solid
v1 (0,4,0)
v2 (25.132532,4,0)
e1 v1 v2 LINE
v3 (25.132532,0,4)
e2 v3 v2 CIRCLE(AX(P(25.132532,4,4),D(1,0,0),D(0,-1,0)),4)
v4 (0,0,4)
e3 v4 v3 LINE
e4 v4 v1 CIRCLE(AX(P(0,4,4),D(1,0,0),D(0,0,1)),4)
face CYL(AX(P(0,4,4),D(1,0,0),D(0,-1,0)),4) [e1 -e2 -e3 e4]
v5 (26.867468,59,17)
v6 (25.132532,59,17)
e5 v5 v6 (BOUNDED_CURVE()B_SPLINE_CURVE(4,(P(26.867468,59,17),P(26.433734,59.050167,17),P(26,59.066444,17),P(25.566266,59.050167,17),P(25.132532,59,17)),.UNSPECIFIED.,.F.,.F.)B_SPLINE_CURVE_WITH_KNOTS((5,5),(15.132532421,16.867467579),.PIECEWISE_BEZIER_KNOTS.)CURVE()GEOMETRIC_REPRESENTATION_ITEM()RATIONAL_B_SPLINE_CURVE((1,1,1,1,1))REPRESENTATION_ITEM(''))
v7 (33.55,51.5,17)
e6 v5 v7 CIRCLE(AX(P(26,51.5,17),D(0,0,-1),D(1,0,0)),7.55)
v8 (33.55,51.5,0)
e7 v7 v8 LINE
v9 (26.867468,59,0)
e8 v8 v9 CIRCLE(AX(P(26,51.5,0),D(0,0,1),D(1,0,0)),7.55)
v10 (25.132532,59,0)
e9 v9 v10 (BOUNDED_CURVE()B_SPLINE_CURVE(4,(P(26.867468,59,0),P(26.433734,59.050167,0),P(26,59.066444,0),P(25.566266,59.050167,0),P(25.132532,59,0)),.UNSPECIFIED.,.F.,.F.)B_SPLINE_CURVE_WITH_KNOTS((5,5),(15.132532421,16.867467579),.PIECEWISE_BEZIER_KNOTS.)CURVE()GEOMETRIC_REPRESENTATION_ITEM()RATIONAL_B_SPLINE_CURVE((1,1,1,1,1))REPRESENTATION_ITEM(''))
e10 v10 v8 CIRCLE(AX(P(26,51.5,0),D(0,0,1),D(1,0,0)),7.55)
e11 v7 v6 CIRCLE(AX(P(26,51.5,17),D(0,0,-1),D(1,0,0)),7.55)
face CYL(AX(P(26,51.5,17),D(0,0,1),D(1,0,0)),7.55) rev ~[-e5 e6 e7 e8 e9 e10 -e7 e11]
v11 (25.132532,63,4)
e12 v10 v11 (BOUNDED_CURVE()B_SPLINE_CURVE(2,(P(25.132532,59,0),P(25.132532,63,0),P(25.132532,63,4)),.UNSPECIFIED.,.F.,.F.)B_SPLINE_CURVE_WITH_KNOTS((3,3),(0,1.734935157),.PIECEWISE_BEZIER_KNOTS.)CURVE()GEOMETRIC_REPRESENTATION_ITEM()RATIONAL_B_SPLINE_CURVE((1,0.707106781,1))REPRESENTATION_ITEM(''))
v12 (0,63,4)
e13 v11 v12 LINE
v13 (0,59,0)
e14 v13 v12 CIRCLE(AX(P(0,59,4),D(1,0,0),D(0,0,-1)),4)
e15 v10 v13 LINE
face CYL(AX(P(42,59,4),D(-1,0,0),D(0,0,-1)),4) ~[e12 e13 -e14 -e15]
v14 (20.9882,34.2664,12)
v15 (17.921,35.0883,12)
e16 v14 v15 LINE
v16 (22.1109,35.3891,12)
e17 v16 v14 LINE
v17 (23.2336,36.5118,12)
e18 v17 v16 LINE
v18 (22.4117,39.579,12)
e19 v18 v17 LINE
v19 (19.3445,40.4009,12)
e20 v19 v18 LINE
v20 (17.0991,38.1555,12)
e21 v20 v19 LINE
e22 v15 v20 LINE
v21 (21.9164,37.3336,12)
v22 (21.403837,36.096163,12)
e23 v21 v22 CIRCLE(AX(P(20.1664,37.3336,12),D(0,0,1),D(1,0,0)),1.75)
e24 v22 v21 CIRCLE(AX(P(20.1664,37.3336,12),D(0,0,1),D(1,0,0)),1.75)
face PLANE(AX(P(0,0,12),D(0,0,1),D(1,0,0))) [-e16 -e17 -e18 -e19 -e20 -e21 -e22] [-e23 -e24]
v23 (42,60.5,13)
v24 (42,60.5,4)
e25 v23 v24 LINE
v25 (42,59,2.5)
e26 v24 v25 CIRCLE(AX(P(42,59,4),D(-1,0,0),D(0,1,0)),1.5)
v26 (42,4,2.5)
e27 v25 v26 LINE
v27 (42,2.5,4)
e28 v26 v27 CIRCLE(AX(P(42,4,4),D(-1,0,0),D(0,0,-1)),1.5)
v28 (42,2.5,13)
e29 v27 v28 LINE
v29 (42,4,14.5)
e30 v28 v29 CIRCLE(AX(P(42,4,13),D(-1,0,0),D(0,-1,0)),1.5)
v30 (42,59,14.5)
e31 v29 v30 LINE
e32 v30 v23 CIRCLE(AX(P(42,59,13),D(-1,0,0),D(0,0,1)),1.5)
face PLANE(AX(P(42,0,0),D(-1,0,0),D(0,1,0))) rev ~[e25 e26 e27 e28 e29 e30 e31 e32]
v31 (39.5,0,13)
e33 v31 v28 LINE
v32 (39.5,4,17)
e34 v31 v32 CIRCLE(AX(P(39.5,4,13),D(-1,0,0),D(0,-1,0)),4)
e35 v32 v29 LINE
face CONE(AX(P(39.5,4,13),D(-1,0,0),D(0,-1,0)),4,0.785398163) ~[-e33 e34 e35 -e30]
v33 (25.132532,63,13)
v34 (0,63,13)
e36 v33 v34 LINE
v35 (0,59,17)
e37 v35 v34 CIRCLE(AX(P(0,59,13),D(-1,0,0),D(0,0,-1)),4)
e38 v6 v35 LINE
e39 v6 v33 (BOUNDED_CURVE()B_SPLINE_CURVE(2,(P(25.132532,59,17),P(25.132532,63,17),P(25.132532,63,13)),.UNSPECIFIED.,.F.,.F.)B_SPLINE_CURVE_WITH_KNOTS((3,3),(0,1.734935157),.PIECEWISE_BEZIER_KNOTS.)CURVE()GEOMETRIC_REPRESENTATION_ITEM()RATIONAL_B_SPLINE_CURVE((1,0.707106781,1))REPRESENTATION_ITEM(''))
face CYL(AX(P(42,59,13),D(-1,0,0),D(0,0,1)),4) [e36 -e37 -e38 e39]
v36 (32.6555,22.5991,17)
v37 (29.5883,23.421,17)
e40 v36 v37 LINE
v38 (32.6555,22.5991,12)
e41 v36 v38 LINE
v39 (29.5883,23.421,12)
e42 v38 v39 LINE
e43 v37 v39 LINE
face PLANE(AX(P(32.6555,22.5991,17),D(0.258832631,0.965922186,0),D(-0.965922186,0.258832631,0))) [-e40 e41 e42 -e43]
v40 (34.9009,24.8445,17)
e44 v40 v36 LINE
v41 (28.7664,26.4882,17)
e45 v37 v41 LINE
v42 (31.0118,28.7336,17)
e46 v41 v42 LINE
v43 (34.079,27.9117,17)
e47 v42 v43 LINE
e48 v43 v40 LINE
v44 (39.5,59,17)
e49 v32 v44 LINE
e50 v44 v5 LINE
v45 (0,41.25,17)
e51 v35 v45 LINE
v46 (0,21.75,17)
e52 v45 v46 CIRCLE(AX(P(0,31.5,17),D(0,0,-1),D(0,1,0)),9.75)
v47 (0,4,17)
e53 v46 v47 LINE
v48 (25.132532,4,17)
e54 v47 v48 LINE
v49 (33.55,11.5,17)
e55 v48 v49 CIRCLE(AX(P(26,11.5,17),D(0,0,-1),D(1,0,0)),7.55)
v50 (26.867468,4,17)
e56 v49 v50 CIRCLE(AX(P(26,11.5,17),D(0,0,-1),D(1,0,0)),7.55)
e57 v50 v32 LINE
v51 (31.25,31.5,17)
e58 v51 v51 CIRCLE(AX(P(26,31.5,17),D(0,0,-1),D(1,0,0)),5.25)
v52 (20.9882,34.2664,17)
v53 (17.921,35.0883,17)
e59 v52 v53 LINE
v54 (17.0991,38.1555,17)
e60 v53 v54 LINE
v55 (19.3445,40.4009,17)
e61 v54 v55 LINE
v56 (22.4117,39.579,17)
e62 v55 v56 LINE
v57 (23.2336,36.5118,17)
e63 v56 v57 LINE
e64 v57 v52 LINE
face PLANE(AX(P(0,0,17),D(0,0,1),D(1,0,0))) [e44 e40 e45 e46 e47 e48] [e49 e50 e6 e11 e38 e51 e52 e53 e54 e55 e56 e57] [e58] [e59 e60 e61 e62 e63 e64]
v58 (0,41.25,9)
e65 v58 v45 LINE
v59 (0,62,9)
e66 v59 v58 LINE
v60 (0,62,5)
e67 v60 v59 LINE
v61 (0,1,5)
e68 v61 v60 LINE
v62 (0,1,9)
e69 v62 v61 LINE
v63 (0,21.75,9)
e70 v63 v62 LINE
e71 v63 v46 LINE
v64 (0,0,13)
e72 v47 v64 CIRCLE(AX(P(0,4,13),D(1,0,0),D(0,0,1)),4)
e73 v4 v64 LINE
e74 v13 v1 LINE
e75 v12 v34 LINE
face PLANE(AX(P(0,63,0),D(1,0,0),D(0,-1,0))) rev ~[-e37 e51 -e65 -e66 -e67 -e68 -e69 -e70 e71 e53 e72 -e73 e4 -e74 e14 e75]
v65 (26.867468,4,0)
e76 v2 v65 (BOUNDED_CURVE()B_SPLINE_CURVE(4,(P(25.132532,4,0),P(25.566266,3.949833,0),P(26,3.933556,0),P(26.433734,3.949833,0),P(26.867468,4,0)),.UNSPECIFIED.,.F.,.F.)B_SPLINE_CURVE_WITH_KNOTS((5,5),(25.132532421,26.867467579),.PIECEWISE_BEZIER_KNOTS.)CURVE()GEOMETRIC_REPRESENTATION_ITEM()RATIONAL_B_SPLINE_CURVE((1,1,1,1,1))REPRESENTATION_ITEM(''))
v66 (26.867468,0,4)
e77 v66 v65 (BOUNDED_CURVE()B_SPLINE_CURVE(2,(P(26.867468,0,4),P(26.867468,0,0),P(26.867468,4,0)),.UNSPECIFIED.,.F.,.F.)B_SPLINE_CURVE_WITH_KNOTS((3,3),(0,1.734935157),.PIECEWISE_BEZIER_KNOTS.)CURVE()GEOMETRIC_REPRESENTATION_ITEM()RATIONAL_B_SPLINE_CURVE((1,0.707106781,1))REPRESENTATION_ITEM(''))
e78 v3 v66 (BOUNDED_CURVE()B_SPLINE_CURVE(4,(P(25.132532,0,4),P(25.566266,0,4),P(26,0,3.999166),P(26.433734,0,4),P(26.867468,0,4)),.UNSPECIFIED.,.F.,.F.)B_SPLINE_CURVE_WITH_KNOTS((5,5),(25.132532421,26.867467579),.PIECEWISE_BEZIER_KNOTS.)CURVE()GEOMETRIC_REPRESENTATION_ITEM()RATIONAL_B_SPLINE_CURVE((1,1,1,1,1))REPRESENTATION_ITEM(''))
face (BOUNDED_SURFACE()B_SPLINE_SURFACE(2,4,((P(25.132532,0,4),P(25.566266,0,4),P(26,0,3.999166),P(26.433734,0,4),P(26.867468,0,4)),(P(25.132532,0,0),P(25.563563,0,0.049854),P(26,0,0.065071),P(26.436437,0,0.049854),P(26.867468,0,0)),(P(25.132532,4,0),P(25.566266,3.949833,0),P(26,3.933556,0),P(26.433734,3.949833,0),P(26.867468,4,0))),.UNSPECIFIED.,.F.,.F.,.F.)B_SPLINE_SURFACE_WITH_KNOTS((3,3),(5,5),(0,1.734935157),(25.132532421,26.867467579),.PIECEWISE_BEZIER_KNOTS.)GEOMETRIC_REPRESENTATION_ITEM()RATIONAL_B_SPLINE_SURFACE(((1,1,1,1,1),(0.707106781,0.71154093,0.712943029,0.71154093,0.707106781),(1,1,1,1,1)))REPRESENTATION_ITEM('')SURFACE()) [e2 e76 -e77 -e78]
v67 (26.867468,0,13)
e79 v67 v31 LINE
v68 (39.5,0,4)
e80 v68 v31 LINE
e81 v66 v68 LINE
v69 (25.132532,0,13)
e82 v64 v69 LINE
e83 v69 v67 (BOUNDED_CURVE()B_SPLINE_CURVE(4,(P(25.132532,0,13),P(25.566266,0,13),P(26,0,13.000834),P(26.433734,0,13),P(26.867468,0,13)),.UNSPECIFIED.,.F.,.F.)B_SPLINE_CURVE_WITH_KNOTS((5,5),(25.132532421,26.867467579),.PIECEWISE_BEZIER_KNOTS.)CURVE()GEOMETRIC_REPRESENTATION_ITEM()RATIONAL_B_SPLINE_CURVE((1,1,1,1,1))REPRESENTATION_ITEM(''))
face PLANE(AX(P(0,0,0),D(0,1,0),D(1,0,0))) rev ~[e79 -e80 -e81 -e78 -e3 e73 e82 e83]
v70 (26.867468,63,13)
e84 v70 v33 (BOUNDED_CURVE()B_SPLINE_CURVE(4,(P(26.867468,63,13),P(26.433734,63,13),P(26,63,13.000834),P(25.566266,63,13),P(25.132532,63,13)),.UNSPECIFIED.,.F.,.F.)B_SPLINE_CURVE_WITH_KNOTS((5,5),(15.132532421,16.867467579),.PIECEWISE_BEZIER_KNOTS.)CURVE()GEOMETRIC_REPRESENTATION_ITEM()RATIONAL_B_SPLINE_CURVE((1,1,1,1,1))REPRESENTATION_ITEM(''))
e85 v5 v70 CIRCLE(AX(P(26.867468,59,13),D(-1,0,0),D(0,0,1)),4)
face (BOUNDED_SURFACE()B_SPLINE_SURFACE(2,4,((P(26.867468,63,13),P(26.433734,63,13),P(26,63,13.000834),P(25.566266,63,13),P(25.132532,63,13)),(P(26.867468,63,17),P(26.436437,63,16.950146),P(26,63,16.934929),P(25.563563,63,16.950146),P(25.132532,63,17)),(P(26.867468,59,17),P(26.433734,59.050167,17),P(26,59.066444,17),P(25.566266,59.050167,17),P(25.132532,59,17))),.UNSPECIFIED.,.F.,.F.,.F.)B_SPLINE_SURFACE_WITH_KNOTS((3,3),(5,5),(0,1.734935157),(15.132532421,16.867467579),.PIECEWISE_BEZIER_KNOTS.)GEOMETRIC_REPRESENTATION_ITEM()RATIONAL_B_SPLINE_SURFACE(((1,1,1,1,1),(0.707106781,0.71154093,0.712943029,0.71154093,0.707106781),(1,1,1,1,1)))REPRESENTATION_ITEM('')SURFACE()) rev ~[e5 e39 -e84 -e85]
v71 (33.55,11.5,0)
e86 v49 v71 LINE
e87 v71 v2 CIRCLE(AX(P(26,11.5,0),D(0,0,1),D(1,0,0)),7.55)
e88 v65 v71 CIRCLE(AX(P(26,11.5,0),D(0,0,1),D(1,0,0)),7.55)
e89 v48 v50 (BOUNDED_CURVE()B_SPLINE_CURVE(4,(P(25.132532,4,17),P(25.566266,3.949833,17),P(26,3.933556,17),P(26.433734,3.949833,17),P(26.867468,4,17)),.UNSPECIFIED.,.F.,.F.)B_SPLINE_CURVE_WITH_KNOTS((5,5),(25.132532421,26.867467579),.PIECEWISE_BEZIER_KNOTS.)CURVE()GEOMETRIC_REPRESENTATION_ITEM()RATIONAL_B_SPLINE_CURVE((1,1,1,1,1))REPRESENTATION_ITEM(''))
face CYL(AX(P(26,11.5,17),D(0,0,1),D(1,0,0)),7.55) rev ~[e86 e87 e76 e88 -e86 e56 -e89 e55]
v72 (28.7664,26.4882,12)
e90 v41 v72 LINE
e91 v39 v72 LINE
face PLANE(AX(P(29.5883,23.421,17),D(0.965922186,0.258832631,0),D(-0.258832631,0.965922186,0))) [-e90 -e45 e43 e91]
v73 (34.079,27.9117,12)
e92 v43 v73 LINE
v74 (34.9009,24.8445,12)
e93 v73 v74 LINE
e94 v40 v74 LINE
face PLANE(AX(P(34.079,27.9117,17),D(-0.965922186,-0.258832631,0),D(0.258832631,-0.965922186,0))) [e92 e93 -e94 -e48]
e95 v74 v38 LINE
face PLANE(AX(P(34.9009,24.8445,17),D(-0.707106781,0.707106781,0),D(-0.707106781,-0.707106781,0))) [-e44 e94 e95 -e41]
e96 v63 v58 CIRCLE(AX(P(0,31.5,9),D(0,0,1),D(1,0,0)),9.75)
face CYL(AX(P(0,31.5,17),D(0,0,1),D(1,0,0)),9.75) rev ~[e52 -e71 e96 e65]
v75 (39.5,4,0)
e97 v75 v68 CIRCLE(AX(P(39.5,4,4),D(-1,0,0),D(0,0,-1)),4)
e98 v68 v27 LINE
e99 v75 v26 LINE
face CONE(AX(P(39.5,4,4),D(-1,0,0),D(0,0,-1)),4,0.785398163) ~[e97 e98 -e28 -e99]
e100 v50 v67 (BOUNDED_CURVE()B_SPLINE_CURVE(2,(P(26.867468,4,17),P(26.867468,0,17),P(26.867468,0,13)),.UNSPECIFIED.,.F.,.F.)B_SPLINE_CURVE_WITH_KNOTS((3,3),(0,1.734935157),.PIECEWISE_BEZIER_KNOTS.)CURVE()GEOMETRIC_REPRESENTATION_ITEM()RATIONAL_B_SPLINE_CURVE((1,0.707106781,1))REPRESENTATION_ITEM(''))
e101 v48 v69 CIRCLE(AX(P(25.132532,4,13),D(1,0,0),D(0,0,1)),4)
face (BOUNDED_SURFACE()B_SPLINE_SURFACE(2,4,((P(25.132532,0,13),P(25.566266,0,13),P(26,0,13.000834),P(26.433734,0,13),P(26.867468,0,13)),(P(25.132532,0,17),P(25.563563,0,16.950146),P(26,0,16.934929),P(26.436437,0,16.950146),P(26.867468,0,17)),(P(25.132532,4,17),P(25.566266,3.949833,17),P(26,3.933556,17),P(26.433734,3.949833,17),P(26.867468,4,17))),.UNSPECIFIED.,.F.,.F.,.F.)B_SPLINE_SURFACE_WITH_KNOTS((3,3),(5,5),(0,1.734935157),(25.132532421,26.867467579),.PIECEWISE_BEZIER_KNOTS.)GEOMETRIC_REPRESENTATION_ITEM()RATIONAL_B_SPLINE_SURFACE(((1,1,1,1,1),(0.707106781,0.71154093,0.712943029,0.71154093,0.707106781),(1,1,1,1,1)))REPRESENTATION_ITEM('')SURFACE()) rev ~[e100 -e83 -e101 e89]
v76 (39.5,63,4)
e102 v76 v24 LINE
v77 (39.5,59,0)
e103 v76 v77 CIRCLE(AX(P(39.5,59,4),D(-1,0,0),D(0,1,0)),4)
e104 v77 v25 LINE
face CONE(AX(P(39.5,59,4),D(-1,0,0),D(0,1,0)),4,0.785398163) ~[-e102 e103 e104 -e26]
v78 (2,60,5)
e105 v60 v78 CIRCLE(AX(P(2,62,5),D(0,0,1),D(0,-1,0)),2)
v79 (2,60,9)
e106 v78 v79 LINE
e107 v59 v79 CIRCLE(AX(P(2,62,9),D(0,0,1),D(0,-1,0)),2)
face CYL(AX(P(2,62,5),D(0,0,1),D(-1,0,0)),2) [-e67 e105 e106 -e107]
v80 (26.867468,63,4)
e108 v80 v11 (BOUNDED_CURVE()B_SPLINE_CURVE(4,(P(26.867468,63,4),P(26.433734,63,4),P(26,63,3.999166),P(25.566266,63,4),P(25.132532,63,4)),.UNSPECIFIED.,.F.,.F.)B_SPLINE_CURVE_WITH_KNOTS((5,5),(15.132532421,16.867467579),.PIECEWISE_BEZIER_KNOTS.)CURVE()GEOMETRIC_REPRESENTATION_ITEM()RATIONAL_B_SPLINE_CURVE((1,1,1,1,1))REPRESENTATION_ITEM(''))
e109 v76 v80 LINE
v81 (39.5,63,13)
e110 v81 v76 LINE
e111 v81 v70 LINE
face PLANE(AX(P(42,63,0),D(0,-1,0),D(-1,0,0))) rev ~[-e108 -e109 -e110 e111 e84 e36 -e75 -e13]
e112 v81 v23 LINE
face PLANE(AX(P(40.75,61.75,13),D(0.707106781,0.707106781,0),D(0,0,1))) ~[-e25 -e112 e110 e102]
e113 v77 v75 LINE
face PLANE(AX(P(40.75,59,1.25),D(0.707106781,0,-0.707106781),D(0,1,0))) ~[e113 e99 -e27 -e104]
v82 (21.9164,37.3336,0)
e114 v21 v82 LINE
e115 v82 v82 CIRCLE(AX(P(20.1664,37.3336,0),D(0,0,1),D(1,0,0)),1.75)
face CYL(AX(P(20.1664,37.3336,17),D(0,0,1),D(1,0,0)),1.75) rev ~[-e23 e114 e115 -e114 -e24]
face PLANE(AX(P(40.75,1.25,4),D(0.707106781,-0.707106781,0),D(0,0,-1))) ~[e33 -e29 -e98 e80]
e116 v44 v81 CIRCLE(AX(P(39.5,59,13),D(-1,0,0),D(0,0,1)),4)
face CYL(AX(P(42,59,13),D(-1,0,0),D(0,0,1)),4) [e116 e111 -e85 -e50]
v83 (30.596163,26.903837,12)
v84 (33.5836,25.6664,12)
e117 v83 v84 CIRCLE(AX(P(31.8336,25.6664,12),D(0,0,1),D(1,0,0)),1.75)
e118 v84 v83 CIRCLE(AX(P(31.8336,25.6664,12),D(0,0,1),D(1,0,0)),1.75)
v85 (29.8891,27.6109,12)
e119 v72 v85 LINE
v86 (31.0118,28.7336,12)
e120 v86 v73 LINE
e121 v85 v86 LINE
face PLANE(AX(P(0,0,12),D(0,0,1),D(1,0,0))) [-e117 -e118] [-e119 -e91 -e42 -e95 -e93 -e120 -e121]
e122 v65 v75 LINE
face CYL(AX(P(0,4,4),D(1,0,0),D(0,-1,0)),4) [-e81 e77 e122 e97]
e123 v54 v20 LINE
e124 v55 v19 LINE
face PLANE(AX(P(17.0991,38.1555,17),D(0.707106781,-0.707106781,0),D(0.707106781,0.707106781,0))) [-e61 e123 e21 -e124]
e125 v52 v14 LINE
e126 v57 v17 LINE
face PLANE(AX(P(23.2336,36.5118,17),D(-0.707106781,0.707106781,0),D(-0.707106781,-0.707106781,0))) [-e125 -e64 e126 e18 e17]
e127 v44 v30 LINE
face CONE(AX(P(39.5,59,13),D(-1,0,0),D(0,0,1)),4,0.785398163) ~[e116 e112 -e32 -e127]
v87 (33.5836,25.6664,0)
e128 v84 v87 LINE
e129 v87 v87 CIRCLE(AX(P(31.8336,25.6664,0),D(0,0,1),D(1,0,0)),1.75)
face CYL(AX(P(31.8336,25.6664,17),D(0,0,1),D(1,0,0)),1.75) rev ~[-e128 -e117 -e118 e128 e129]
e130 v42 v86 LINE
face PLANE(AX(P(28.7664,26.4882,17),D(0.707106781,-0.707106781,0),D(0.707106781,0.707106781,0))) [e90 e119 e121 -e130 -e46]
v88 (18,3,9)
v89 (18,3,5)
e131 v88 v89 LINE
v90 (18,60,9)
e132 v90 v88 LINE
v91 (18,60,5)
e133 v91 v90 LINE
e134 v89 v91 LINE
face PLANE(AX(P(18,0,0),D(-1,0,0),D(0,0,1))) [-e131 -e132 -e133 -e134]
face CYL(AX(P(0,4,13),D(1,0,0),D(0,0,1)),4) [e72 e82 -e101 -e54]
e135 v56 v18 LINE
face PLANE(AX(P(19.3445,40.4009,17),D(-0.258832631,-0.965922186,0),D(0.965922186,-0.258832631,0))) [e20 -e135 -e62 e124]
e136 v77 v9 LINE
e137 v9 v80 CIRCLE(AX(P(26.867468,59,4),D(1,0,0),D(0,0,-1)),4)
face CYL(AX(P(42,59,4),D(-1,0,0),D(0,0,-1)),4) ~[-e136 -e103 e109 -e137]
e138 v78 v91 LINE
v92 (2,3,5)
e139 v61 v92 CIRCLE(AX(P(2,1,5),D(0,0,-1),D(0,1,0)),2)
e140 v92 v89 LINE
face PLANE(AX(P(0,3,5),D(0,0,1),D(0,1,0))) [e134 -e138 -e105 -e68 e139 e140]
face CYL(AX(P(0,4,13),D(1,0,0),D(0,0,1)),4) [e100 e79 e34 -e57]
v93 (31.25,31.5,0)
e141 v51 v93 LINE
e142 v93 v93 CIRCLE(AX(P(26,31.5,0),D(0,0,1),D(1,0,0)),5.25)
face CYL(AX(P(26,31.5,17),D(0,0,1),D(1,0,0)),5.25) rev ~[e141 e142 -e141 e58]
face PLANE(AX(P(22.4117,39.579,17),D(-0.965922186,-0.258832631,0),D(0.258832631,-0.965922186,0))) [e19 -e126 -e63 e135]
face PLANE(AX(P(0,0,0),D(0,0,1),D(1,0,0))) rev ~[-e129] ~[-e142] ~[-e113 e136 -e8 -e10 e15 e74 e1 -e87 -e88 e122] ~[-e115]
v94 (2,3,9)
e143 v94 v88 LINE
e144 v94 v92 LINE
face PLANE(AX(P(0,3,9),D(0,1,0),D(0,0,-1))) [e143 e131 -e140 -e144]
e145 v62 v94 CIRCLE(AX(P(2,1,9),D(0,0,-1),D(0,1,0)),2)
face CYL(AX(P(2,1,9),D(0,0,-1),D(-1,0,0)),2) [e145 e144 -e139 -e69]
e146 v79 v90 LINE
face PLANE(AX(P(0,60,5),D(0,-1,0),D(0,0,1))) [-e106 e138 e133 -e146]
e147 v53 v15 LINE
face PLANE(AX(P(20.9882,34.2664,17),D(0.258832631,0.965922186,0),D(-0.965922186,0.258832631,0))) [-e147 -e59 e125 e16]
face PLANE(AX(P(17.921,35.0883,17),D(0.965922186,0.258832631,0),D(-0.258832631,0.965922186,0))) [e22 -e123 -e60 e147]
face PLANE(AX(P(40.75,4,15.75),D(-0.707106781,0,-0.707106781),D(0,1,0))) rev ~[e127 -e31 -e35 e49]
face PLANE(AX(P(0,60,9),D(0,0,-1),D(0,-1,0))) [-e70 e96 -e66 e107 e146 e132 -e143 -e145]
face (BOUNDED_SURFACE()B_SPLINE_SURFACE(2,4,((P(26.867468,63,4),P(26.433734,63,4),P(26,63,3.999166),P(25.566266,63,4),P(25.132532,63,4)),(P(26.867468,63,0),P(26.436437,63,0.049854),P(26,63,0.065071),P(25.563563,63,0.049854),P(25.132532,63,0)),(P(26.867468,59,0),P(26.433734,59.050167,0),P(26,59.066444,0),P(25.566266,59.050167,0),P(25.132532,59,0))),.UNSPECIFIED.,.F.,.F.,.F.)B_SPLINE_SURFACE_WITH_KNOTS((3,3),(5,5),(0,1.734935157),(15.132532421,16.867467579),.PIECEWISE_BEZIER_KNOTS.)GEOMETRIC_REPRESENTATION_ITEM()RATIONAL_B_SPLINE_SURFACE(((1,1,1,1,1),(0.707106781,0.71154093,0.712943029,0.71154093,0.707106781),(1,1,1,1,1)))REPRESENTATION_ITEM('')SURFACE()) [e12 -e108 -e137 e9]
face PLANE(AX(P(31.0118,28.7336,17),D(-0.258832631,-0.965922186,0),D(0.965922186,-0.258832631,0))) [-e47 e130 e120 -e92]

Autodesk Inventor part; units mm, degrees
ref_plane "YZ Plane" through (0, 0, 0) normal (1, 0, 0) x (0, 1, 0)
ref_plane "XZ Plane" through (0, 0, 0) normal (0, 1, 0) x (-1, 0, 0)
sketch "Sketch1" plane through (0, 0, 0) normal (0, 0, 1) x (1, 0, 0)
  line L0 (0, 0) -> (42, 0)
  line L1 (42, 0) -> (42, 63)
  line L2 (42, 63) -> (0, 63)
  line L3 (0, 63) -> (0, 0)
  dimension "d0" = 42
  dimension "d1" = 63
extrude "Extrusion1" add sketch "Sketch1" along normal blind 17
sketch "Sketch2" plane through (0, 0, 17) normal (0, 0, 1) x (1, 0, 0)
  line L0 (0, 63) -> (0, 0) projected
  line L1 (0, 31.5) -> (26, 31.5)
  circle A0 centre (26, 31.5) radius 5.25
  dimension "d4" = 26
  dimension "d5" = 10.5
extrude "Extrusion2" cut sketch "Sketch2" against normal blind 17
sketch "Sketch4" plane through (0, 0, 17) normal (0, 0, 1) x (1, 0, 0)
  circle A0 centre (26, 31.5) radius 5.25 projected
  line L0 (26, 31.5) -> (26, 51.5)
  line L1 (26, 31.5) -> (26, 11.5)
  circle A1 centre (26, 51.5) radius 7.55
  circle A2 centre (26, 11.5) radius 7.55
  point P0 (0, 0)
  dimension "d14" = 20
  dimension "d15" = 20
  dimension "d16" = 15.1
  dimension "d17" = 15.1
extrude "Extrusion4" cut sketch "Sketch4" against normal blind 17 contours A2 | A1
sketch "Sketch5" plane through (0, 0, 17) normal (0, 0, 1) x (1, 0, 0)
  line L0 (0, 63) -> (0, 0) projected
  line L1 (0, 31.5) -> (10, 31.5)
  circle A0 centre (26, 31.5) radius 5.25 projected
  line L2 (26, 31.5) -> (20.1664, 37.3336)
  line L3 (26, 31.5) -> (34.25, 31.5) construction
  line L4 (20.1664, 37.3336) -> (31.8336, 25.6664)
  circle A1 centre (31.8336, 25.6664) radius 1.75
  circle A2 centre (20.1664, 37.3336) radius 1.75
  dimension "d21" = 10
  dimension "d22" = 8.25
  dimension "d23" = 135
  dimension "d24" = 16.5
  dimension "d25" = 3.5
  dimension "d26" = 3.5
extrude "Extrusion5" cut sketch "Sketch5" against normal blind 17 contours A1 | A2
ref_plane "Work Plane1" through (0, 0, 7.5) normal (0, 0, 1) x (1, 0, 0)
sketch "Sketch8" plane through (0, 0, 17) normal (0, 0, 1) x (1, 0, 0)
  line L0 (0, 63) -> (0, 0) projected
  circle A0 centre (0, 31.5) radius 9.75
  dimension "d36" = 19.5
extrude "Extrusion8" cut sketch "Sketch8" against normal blind 10
sketch "Sketch9" plane through (0, 0, 7) normal (0, 0, 1) x (1, 0, 0)
  arc A0 (0, 21.75) -> (0, 41.25) centre (0, 31.5) ccw projected
  circle A1 centre (0, 31.5) radius 12.5
  point P0 (0, 0)
  dimension "d39" = 25
extrude "Extrusion9" [suppressed]
sketch "Sketch10" plane through (0, 0, 0) normal (-1, 0, 0) x (0, 0, 1)
  circle A0 centre (5, 6) radius 1.6
  line L0 (0, 26.25) -> (0, 36.75) projected
  line L1 (0, 31.5) -> (15.0441, 31.5)
  circle A1 centre (5, 57) radius 1.6
  point P0 (0, 0)
  dimension "d42" = 3.2
extrude "Extrusion10" [suppressed]
ref_plane "Work Plane2" through (3, 0, 0) normal (-1, 0, 0) x (0, 0, 1)
sketch "Sketch11" plane through (3, 0, 0) normal (-1, 0, 0) x (0, 0, 1)
  circle A0 centre (5, 6) radius 1.6 projected
  line L0 (5, 6) -> (5, 8.75)
  line L1 (6.5877, 8.75) -> (8.1754, 6)
  line L2 (8.1754, 6) -> (6.5877, 3.25)
  line L3 (6.5877, 3.25) -> (3.4123, 3.25)
  line L4 (3.4123, 3.25) -> (1.8246, 6)
  line L5 (1.8246, 6) -> (3.4123, 8.75)
  line L6 (3.4123, 8.75) -> (6.5877, 8.75)
  circle A1 centre (5, 57) radius 1.6 projected
  line L7 (5, 57) -> (5, 54.25)
  line L8 (3.4123, 54.25) -> (1.8246, 57)
  line L9 (1.8246, 57) -> (3.4123, 59.75)
  line L10 (3.4123, 59.75) -> (6.5877, 59.75)
  line L11 (6.5877, 59.75) -> (8.1754, 57)
  line L12 (8.1754, 57) -> (6.5877, 54.25)
  line L13 (6.5877, 54.25) -> (3.4123, 54.25)
  point P0 (0, 0)
  dimension "d46" = 2.75
  dimension "d47" = 2.75
extrude "Extrusion11" [suppressed]
sketch "Sketch12" plane through (0, 0, 0) normal (0, 0, -1) x (-1, 0, 0)
  line L0 (-3, 3.25) -> (-5.5, 3.25) projected
  line L1 (-3, 3.25) -> (-5.5, 3.25)
  line L2 (-5.5, 3.25) -> (-5.5, 8.75)
  line L3 (-5.5, 8.75) -> (-3, 8.75)
  line L4 (-3, 8.75) -> (-3, 3.25)
  line L5 (-3, 43.25) -> (-5.5, 43.25) projected
  line L6 (-5.5, 48.75) -> (-5.5, 46) projected
  line L7 (-3, 43.25) -> (-5.5, 43.25)
  line L8 (-5.5, 43.25) -> (-5.5, 48.75)
  line L9 (-5.5, 48.75) -> (-3, 48.75)
  line L10 (-3, 48.75) -> (-3, 43.25)
  point P0 (0, 0)
extrude "Extrusion12" [suppressed]
sketch "Sketch13" plane through (0, 0, 0) normal (-1, 0, 0) x (0, 0, 1)
  line L0 (5, 60) -> (9, 60)
  line L1 (9, 60) -> (9, 3)
  line L2 (9, 3) -> (5, 3)
  line L3 (5, 3) -> (5, 60)
  point P0 (0, 0)
  point P1 (5, 31.5)
  dimension "d83" = 4
extrude "Extrusion13" cut sketch "Sketch13" against normal blind 18
fillet "Fillet1" radius 2 2 edges at (0, 3, 7) (0, 60, 7)
sketch "Sketch14" plane through (0, 0, 0) normal (-1, 0, 0) x (0, 0, 1)
  point P0 (0, 0)
sketch "Sketch15" plane through (0, 0, 0) normal (0, 0, -1) x (-1, 0, 0)
  line L0 (0, 21.75) -> (0, 41.25) projected
  line L1 (0, 61.05) -> (0, 53.05)
  line L2 (0, 53.05) -> (-5, 53.05)
  circle A0 centre (-5, 53.05) radius 1.6
  line L3 (0, 0) -> (-42, 0) projected
  line L4 (0, 0) -> (0, 8)
  line L5 (-2, 11.95) -> (-10, 11.95) projected
  line L6 (0, 8) -> (-5, 8)
  circle A1 centre (-5, 8) radius 1.6
  point P0 (0, 9.95)
  dimension "d59" = 8
  dimension "d60" = 5
  dimension "d61" = 3.2
  dimension "d71" = 8
  dimension "d72" = 5
  dimension "d73" = 3.2
extrude "Extrusion14" [suppressed]
sketch "Sketch17" plane through (0, 0, 17) normal (0, 0, 1) x (1, 0, 0)
  circle A0 centre (5, 53.05) radius 1.6 projected
  line L0 (5, 53.05) -> (5, 50.3)
  line L1 (3.4123, 50.3) -> (1.8246, 53.05)
  line L2 (1.8246, 53.05) -> (3.4123, 55.8)
  line L3 (3.4123, 55.8) -> (6.5877, 55.8)
  line L4 (6.5877, 55.8) -> (8.1754, 53.05)
  line L5 (8.1754, 53.05) -> (6.5877, 50.3)
  line L6 (6.5877, 50.3) -> (3.4123, 50.3)
  circle A1 centre (5, 8) radius 1.6 projected
  line L7 (5, 8) -> (5, 10.75)
  line L8 (6.5877, 10.75) -> (8.1754, 8)
  line L9 (8.1754, 8) -> (6.5877, 5.25)
  line L10 (6.5877, 5.25) -> (3.4123, 5.25)
  line L11 (3.4123, 5.25) -> (1.8246, 8)
  line L12 (1.8246, 8) -> (3.4123, 10.75)
  line L13 (3.4123, 10.75) -> (6.5877, 10.75)
  point P0 (0, 0)
  dimension "d68" = 2.75
  dimension "d76" = 2.75
extrude "Extrusion15" [suppressed]
sketch "Sketch19" plane through (0, 0, 0) normal (-1, 0, 0) x (0, 0, 1)
  point P0 (0, 0)
sketch "Sketch20" plane through (0, 0, 0) normal (-1, 0, 0) x (0, 0, 1)
  point P0 (0, 0)
fillet "Fillet2" radius 4 4 edges at (21, 0, 0) (21, 63, 0) (21, 63, 17) (21, 0, 17)
sketch "Sketch21" plane through (0, 0, 17) normal (0, 0, 1) x (1, 0, 0)
  circle A0 centre (31.8336, 25.6664) radius 1.75 projected
  line L0 (31.8336, 25.6664) -> (29.8891, 27.6109)
  line L1 (31.8336, 25.6664) -> (34.5836, 25.6664) construction
  circle A1 centre (20.1664, 37.3336) radius 1.75 projected
  line L2 (20.1664, 37.3336) -> (22.1109, 35.3891)
  line L3 (20.9882, 34.2664) -> (17.921, 35.0883)
  line L4 (17.921, 35.0883) -> (17.0991, 38.1555)
  line L5 (17.0991, 38.1555) -> (19.3445, 40.4009)
  line L6 (19.3445, 40.4009) -> (22.4117, 39.579)
  line L7 (22.4117, 39.579) -> (23.2336, 36.5118)
  line L8 (23.2336, 36.5118) -> (20.9882, 34.2664)
  line L9 (31.0118, 28.7336) -> (34.079, 27.9117)
  line L10 (34.079, 27.9117) -> (34.9009, 24.8445)
  line L11 (34.9009, 24.8445) -> (32.6555, 22.5991)
  line L12 (32.6555, 22.5991) -> (29.5883, 23.421)
  line L13 (29.5883, 23.421) -> (28.7664, 26.4882)
  line L14 (28.7664, 26.4882) -> (31.0118, 28.7336)
  point P0 (0, 0)
  dimension "d78" = 2.75
  dimension "d79" = 135
  dimension "d80" = 2.75
extrude "Extrusion16" cut sketch "Sketch21" against normal blind 5
chamfer "Chamfer1" distance 2.5 angle 45 8 edges at (42, 31.5, 17) (42, 61.8284, 15.8284) (42, 63, 8.5) (42, 61.8284, 1.1716) (42, 31.5, 0) (42, 1.1716, 1.1716) (42, 0, 8.5) (42, 1.1716, 15.8284)
properties part number "syringe_pump_sledge"
